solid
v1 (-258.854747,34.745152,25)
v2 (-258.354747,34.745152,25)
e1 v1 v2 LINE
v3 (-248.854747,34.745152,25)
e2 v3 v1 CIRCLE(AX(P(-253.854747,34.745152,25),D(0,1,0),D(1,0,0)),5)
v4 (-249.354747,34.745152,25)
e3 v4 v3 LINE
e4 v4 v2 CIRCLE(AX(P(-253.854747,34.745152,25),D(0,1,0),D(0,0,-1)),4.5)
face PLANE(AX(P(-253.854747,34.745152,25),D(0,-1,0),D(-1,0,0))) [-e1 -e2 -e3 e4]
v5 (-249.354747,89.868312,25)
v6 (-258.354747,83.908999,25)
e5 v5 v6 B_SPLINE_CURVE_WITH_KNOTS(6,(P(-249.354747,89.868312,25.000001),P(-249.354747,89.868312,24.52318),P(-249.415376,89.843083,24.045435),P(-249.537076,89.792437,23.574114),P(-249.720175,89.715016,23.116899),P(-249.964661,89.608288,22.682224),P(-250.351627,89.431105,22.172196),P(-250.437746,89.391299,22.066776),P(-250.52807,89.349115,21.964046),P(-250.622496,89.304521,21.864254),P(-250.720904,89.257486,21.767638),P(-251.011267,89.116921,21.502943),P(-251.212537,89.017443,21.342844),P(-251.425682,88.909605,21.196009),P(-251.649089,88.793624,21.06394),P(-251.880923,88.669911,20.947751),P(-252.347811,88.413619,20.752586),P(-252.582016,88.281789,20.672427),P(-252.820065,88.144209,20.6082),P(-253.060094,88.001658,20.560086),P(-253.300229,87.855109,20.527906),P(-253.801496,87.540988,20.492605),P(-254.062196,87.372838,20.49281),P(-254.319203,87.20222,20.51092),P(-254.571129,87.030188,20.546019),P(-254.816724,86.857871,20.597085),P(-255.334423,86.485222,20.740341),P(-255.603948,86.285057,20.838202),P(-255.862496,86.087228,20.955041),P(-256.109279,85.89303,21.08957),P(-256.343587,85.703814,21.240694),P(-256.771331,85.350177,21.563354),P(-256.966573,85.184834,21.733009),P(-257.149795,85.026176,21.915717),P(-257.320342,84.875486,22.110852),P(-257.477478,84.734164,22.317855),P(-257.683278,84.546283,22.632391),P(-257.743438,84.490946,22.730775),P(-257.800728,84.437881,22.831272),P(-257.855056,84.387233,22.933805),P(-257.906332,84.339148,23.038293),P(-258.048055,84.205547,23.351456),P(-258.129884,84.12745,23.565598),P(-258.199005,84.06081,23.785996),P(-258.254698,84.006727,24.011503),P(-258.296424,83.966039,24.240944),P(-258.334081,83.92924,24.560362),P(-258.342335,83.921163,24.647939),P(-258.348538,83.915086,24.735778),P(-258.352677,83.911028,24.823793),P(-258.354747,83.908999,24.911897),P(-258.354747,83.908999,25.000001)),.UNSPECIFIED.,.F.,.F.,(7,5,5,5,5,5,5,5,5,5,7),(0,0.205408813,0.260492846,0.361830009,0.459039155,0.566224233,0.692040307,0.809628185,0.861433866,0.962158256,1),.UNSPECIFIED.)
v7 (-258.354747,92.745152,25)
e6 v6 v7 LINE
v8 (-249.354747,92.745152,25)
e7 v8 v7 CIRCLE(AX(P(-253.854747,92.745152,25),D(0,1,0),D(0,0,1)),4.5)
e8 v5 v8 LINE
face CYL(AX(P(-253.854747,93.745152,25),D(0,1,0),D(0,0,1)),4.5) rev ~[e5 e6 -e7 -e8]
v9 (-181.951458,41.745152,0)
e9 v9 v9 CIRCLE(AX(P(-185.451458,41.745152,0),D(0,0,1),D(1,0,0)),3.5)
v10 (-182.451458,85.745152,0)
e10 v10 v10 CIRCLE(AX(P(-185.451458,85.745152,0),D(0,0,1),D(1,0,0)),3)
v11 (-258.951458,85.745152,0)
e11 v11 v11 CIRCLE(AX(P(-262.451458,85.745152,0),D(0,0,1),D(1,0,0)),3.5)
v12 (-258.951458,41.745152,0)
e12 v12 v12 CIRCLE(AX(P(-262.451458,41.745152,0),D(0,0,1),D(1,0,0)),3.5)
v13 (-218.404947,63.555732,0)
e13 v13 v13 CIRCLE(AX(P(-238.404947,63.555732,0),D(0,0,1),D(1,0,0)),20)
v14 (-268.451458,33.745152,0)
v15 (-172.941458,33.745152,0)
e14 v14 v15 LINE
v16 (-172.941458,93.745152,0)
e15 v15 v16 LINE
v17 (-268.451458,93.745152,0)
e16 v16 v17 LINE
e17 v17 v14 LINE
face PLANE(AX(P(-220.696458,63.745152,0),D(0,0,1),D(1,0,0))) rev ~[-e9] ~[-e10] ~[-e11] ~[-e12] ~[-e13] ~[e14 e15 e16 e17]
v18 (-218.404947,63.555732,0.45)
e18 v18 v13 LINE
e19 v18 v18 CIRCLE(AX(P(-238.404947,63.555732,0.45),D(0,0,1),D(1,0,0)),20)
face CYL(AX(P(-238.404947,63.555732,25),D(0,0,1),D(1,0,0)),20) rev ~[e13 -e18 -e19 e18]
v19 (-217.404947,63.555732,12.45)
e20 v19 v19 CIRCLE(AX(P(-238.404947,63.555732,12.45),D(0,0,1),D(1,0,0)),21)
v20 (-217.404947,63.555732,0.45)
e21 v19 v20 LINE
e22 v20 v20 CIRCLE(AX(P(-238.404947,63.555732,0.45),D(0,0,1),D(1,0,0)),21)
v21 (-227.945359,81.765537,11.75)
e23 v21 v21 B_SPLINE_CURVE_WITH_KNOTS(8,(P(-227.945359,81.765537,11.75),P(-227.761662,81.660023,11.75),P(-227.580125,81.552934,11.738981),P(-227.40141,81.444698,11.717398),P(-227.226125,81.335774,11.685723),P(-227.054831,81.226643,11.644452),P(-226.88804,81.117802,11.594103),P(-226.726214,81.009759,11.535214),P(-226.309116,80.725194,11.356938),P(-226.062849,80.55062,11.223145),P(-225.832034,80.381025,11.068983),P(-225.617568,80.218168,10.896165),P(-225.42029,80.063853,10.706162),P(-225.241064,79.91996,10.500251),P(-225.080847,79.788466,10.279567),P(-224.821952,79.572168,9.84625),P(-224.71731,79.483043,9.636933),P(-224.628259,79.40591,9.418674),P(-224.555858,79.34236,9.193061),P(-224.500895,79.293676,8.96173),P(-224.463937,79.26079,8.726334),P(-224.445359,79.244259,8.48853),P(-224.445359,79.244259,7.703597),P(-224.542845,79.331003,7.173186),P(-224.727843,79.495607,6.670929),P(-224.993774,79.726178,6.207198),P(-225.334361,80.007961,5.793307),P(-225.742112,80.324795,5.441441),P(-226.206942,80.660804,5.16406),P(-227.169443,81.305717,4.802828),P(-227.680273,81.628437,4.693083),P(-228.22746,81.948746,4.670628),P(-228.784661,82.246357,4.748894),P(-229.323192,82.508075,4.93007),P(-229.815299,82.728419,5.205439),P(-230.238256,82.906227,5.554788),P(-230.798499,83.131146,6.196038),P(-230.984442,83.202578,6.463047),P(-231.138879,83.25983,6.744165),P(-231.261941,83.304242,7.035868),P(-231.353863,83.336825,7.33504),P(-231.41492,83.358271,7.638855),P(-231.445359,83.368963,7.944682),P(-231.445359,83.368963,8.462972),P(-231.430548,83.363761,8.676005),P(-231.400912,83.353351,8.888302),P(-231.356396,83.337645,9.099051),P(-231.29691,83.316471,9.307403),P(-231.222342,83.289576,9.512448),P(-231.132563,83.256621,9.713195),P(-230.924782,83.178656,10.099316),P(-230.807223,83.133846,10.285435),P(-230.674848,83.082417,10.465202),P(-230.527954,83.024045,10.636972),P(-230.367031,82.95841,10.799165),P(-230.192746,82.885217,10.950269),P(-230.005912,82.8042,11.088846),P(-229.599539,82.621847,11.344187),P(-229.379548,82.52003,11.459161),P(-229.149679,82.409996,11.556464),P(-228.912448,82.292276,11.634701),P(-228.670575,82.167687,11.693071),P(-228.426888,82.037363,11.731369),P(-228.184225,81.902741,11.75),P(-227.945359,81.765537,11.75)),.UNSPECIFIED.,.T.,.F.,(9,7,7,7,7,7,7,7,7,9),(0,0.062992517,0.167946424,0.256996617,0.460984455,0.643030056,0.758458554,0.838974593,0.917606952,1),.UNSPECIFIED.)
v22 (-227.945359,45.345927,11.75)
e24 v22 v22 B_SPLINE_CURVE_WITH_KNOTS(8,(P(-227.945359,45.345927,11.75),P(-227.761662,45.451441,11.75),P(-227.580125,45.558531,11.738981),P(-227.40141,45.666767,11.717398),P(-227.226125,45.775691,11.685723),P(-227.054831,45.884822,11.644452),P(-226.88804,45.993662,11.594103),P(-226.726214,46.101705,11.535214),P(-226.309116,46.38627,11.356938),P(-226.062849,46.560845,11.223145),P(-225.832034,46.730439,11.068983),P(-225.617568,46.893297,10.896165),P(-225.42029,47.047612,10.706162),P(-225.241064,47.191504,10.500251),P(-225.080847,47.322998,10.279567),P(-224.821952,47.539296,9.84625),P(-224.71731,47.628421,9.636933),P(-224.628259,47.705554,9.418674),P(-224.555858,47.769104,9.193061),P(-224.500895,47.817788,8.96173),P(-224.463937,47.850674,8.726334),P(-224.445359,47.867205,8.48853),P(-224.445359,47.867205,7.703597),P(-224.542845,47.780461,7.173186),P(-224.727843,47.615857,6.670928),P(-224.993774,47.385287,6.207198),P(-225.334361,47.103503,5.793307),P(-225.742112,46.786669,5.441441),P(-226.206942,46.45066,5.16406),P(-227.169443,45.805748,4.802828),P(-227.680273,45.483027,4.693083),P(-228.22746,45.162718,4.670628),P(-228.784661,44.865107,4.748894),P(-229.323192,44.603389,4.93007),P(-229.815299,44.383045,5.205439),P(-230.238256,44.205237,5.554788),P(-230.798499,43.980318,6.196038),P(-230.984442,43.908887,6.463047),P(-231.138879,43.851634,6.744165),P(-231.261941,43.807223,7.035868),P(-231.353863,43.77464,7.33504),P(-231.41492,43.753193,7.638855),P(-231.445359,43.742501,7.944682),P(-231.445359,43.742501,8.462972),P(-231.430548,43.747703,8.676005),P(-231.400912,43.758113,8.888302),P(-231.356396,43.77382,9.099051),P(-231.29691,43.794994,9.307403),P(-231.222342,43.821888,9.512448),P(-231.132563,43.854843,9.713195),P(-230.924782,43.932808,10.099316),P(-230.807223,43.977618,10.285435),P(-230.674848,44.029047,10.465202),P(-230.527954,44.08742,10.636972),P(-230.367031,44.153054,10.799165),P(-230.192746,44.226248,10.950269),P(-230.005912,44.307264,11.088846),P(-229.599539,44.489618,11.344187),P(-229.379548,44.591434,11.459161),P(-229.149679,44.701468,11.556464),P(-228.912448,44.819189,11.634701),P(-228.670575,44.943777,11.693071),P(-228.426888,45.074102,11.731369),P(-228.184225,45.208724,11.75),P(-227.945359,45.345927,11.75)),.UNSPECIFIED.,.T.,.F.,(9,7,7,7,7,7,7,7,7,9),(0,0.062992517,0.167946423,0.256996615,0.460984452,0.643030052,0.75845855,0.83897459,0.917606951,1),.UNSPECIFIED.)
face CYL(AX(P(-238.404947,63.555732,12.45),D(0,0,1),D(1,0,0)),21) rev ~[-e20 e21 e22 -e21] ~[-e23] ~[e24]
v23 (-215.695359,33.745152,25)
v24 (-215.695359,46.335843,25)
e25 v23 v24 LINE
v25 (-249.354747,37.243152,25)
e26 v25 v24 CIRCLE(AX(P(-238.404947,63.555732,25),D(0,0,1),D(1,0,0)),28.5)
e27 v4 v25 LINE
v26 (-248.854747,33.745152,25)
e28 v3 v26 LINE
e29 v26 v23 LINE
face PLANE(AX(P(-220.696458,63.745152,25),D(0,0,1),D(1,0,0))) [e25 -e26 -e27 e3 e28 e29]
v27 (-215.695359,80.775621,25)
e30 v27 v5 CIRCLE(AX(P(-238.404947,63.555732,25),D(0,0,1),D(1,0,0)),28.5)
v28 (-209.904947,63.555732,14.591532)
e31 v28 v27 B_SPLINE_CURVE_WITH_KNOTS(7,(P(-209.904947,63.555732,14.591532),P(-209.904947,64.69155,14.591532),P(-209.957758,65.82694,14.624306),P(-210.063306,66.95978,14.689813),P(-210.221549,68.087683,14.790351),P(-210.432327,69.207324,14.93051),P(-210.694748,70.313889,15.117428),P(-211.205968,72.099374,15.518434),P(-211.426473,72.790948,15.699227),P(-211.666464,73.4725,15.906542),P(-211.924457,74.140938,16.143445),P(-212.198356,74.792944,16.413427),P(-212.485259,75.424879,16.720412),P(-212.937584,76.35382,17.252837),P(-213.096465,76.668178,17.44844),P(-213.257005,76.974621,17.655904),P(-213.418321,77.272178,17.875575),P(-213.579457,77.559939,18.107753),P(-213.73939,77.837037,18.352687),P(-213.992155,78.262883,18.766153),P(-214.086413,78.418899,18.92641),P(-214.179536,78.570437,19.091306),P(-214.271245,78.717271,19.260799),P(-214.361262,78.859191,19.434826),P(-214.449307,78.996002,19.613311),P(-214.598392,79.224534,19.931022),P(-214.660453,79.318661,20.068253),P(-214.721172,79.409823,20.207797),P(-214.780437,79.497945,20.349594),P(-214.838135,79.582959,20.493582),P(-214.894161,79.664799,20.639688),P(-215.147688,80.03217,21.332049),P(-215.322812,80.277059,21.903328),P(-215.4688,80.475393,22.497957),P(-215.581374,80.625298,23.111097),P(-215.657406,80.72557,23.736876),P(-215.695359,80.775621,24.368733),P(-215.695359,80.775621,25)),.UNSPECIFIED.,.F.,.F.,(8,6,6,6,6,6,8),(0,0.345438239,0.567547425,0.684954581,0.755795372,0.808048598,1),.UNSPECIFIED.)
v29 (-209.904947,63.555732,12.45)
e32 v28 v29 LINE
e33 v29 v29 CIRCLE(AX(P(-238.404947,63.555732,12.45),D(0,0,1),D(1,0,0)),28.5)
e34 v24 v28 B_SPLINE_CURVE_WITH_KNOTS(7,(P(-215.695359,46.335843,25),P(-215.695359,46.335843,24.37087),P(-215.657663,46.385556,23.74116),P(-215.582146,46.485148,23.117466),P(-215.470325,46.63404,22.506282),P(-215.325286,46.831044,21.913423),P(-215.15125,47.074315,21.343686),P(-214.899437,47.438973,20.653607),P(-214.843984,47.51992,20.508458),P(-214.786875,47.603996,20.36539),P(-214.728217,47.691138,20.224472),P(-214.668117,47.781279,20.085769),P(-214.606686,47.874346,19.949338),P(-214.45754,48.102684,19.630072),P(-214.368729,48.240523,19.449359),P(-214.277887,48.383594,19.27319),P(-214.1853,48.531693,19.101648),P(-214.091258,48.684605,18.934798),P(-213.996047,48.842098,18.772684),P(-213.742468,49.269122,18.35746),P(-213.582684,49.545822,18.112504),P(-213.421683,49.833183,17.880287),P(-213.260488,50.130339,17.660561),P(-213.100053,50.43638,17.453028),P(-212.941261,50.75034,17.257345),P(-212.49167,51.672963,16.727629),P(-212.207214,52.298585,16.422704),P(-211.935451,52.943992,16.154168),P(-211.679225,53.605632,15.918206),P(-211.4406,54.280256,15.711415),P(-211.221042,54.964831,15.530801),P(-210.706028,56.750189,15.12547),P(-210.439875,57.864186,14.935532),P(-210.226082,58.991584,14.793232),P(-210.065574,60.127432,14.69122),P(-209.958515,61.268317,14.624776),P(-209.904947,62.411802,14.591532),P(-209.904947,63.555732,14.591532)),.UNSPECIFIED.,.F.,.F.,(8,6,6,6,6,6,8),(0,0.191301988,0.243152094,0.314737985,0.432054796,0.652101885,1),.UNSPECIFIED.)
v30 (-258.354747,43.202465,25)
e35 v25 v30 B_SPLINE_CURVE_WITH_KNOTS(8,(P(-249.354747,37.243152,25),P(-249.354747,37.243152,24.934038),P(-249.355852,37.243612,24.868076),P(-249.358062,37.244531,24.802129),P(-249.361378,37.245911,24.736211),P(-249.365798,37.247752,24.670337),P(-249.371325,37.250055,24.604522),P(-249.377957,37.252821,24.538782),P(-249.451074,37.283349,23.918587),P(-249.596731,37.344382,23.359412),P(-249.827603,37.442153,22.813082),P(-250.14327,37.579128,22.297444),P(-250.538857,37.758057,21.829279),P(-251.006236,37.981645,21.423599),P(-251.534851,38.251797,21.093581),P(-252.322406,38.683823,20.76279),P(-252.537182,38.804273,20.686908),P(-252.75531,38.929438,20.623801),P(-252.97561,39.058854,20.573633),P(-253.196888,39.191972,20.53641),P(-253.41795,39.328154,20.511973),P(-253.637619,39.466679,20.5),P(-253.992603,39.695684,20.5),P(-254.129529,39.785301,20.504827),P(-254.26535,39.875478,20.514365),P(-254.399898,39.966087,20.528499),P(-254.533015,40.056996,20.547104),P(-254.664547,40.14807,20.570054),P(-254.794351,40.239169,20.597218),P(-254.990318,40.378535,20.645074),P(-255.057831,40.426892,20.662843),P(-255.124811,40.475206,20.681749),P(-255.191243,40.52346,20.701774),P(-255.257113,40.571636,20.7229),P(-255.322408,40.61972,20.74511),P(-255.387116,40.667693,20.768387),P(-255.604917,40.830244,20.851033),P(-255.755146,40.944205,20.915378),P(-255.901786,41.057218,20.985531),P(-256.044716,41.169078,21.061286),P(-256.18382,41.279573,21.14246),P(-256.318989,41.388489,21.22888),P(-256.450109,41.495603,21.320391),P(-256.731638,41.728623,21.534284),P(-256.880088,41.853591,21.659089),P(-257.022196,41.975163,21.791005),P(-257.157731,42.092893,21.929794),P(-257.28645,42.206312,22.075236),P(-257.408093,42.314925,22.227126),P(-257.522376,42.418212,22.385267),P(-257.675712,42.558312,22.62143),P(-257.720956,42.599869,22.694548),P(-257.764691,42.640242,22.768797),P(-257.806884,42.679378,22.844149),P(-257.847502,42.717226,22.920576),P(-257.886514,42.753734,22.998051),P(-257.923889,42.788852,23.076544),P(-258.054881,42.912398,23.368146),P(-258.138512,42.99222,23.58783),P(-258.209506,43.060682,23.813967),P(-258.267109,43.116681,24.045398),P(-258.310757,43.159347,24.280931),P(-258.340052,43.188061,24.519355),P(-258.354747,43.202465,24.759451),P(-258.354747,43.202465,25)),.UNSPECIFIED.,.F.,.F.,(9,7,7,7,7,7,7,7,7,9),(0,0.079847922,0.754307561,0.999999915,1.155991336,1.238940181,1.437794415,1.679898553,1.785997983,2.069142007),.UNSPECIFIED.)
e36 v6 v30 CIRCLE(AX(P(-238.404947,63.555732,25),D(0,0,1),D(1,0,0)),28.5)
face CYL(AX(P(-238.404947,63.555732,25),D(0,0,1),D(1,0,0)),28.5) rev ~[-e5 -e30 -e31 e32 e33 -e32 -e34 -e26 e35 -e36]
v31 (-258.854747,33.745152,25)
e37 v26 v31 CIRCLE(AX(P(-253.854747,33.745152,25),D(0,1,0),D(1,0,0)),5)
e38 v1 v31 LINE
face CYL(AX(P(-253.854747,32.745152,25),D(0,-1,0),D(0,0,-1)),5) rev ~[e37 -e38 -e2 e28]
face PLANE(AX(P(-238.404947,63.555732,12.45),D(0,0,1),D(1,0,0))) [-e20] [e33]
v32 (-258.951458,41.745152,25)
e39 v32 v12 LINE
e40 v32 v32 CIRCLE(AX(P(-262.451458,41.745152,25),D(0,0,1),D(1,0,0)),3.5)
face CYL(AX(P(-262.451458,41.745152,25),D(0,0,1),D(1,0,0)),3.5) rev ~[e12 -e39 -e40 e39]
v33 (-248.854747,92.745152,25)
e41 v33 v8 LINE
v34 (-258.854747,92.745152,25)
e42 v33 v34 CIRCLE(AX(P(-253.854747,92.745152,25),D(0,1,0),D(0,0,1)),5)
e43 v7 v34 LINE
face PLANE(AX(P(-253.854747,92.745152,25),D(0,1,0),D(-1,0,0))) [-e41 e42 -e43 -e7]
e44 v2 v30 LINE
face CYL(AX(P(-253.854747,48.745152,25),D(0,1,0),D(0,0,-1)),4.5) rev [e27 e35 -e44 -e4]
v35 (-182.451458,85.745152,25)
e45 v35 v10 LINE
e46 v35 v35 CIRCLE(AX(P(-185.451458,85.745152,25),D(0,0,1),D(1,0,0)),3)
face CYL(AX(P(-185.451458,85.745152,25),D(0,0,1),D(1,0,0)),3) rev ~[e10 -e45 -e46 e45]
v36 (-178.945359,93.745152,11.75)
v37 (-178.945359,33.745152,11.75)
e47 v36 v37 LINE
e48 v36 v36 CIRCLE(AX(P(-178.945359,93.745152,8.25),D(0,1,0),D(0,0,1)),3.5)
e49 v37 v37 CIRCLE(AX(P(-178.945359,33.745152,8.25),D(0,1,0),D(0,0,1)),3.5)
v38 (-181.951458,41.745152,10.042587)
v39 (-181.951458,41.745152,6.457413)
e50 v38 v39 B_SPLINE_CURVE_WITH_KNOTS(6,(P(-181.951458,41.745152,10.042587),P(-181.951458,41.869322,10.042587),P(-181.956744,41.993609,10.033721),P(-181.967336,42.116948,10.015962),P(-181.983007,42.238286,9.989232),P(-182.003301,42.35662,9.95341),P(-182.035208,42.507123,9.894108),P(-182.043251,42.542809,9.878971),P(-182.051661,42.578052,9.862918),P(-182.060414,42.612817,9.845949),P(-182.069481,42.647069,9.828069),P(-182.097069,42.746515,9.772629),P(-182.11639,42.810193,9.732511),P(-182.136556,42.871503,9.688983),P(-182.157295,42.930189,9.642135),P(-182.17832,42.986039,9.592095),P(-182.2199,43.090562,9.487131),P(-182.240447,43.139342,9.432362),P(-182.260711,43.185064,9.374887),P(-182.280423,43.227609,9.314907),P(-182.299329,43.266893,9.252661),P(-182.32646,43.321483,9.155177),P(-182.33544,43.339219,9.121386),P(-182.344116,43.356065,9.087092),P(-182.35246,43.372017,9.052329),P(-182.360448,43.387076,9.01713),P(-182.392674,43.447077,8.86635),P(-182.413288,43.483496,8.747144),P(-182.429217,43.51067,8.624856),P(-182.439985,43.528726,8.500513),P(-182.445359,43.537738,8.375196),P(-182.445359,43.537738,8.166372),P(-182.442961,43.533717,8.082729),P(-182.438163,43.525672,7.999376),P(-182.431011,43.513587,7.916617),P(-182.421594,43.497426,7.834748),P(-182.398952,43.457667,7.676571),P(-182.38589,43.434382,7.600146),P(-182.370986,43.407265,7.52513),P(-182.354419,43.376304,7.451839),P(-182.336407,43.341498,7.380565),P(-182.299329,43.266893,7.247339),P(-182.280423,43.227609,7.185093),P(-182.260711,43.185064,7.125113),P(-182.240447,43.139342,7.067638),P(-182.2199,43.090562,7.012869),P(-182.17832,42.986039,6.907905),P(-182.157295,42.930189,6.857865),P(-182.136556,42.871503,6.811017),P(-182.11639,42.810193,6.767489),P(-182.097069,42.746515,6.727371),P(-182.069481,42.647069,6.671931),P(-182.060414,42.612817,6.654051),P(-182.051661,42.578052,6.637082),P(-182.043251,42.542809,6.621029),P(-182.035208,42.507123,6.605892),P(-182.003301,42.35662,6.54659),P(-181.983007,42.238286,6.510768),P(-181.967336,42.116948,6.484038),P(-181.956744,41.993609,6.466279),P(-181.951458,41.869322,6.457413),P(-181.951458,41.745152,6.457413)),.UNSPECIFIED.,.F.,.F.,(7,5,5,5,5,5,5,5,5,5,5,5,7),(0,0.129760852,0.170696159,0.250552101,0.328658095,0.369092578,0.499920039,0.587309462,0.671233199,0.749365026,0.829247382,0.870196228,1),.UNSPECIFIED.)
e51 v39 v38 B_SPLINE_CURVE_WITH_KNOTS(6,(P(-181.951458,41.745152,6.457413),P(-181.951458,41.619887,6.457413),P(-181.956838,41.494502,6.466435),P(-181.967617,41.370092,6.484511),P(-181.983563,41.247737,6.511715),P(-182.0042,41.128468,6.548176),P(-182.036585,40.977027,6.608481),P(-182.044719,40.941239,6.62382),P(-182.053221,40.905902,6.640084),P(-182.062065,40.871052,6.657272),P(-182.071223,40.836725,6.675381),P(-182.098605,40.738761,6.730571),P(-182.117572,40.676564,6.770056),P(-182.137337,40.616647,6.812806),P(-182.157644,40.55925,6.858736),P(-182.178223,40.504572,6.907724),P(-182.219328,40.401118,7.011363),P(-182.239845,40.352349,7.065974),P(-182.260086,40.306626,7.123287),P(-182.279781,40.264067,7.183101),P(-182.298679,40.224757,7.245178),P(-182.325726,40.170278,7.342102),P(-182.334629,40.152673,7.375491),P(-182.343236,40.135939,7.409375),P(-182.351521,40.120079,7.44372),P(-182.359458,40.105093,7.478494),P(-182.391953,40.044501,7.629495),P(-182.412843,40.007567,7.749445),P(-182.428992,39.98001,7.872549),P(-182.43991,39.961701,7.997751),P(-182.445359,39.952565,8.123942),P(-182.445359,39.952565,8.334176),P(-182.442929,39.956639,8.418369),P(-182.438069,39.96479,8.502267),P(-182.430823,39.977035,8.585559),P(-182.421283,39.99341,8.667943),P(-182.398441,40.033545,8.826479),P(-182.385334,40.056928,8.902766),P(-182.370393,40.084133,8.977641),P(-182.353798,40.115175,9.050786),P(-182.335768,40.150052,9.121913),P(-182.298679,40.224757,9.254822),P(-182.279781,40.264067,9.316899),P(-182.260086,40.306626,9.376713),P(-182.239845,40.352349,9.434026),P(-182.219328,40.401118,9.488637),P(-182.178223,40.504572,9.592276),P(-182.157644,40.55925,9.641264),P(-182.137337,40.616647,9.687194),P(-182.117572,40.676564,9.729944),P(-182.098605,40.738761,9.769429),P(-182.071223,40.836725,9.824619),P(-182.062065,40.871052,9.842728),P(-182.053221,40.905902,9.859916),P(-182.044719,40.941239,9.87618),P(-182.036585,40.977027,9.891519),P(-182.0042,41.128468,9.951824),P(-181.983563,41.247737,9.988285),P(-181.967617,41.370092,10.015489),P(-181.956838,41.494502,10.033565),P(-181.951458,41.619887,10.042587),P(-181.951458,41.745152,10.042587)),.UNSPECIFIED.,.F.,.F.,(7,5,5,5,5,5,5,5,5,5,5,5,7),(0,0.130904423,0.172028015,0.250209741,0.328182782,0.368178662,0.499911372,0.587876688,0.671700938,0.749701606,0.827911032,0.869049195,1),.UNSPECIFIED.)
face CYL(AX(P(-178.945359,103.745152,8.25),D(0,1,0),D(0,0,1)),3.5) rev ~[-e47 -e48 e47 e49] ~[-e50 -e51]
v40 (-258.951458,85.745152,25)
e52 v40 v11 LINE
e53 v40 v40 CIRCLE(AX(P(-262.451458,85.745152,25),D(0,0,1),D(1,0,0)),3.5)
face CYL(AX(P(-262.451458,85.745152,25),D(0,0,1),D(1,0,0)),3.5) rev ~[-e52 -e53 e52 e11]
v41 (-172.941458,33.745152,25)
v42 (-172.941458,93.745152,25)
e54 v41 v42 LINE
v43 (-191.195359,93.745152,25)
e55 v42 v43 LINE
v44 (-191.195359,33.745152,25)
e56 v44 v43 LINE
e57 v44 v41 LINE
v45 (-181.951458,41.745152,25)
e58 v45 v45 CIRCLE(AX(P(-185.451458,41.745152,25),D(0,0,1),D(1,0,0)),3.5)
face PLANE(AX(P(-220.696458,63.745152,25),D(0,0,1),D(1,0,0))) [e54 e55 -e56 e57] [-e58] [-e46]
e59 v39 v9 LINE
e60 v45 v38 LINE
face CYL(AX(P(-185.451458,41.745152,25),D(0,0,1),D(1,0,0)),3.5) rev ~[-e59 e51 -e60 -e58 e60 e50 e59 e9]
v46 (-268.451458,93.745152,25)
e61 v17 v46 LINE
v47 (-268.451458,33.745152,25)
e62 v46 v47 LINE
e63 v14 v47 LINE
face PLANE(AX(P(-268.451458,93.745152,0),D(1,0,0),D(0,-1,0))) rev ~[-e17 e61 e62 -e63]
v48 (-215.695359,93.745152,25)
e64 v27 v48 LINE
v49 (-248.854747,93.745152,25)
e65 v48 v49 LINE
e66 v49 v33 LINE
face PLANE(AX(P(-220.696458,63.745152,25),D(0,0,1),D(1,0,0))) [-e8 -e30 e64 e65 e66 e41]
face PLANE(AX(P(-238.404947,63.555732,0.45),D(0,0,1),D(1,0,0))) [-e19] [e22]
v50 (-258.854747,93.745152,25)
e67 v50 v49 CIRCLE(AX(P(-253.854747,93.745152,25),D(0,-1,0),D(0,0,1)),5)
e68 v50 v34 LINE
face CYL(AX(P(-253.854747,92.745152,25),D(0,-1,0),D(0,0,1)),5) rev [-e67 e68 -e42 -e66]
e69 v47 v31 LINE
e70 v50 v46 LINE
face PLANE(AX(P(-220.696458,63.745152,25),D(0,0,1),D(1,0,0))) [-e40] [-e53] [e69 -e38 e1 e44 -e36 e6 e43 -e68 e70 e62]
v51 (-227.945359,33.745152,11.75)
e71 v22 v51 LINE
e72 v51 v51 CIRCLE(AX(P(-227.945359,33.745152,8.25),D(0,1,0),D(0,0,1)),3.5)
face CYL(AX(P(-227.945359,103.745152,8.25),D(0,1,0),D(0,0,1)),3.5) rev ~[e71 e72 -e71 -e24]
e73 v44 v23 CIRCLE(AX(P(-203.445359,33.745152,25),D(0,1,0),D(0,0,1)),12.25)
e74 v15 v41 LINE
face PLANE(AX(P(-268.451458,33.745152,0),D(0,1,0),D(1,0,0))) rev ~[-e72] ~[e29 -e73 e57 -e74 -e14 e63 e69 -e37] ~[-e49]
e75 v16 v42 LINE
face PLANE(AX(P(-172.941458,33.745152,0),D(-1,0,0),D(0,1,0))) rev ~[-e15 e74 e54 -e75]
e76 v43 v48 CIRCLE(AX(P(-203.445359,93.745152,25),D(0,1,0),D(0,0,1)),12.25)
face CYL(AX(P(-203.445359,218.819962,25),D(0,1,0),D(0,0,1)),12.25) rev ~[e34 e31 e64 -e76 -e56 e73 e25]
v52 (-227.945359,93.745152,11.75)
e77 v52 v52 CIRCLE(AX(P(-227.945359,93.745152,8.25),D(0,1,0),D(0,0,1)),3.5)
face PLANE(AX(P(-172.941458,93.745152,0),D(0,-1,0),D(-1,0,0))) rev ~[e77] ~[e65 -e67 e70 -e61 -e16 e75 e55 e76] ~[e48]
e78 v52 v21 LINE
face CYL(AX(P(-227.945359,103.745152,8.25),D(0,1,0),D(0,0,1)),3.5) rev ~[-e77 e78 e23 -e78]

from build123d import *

# Parameters (mm, degrees)
BOSS_EXTRUDE1_DEPTH = 25
SKETCH3_R           = 3.5
SKETCH3_R_2         = 3
CUT_EXTRUDE1_DEPTH  = 30
SKETCH5_R           = 12.25
CUT_EXTRUDE3_DEPTH  = 299.5
SKETCH8_R           = 20
CUT_EXTRUDE6_DEPTH  = 299.5
SKETCH7_R           = 28.5
CUT_EXTRUDE5_DEPTH  = 12.55
SKETCH9_R           = 21
CUT_EXTRUDE7_DEPTH  = 12
SKETCH18_R          = 3.500000003
CUT_EXTRUDE11_DEPTH = 70
SKETCH25_R          = 4.5
CUT_EXTRUDE18_DEPTH = 15
CUT_EXTRUDE19_START = -15
SKETCH26_R          = 4.5
CUT_EXTRUDE19_DEPTH = 15
CUT_EXTRUDE22_DEPTH = 2
CUT_EXTRUDE23_START = -2
CUT_EXTRUDE23_DEPTH = 2


with BuildPart() as part:
    # Sketch2 → Boss-Extrude1 (new body)
    with BuildSketch(Plane.XY):
        Polygon((-180.451457822, 33.745151522), (-172.941457822, 33.745151522), (-172.941457822, 93.745151522), (-268.451457822, 93.745151522), (-268.451457822, 33.745151522), align=None)
    extrude(amount=BOSS_EXTRUDE1_DEPTH)

    # Sketch3 → Cut-Extrude1 (cut)
    with BuildSketch(Plane(origin=(-254.526795804, 25.613966889, 25), x_dir=(1, 0, 0), z_dir=(0, 0, 1))):
        with Locations((-7.924662018, 60.131184633)):
            Circle(SKETCH3_R)
        with Locations((69.075337951, 60.131184633)):
            Circle(SKETCH3_R_2)
        with Locations((69.075337951, 16.131184633)):
            Circle(SKETCH3_R)
        with Locations((-7.924662018, 16.131184633)):
            Circle(SKETCH3_R)
    extrude(amount=-CUT_EXTRUDE1_DEPTH, mode=Mode.SUBTRACT)

    # Sketch5 → Cut-Extrude3 (cut)
    with BuildSketch(Plane(origin=(-254.526795796, 218.819962105, 46.890114798), x_dir=(0, 0, 1), z_dir=(0, 1, 0))):
        with Locations((-21.890114798, 51.081437247)):
            Circle(SKETCH5_R)
    extrude(amount=-CUT_EXTRUDE3_DEPTH, mode=Mode.SUBTRACT)

    # Sketch8 → Cut-Extrude6 (cut)
    with BuildSketch(Plane(origin=(-254.526795804, 25.613966889, 25), x_dir=(1, 0, 0), z_dir=(0, 0, 1))):
        with Locations((16.121848571, 37.941765268)):
            Circle(SKETCH8_R)
    extrude(amount=-CUT_EXTRUDE6_DEPTH, mode=Mode.SUBTRACT)

    # Sketch7 → Cut-Extrude5 (cut)
    with BuildSketch(Plane(origin=(-254.526795804, 25.613966889, 25), x_dir=(1, 0, 0), z_dir=(0, 0, 1))):
        with Locations((16.121848571, 37.941765268)):
            Circle(SKETCH7_R)
    extrude(amount=-CUT_EXTRUDE5_DEPTH, mode=Mode.SUBTRACT)

    # Sketch9 → Cut-Extrude7 (cut)
    with BuildSketch(Plane.XY.offset(12.45)):
        with Locations((-238.404947233, 63.555732157)):
            Circle(SKETCH9_R)
    extrude(amount=-CUT_EXTRUDE7_DEPTH, mode=Mode.SUBTRACT)

    # Sketch18 → Cut-Extrude11 (cut)
    with BuildSketch(Plane(origin=(-155.753430747, 103.745151522, -13.013772077), x_dir=(0, 0, 1), z_dir=(0, 1, 0))):
        with Locations((21.263772077, -72.191927802)):
            Circle(SKETCH18_R)
        with Locations((21.263772077, -23.191927802)):
            Circle(SKETCH18_R)
    extrude(amount=-CUT_EXTRUDE11_DEPTH, mode=Mode.SUBTRACT)

    # Sketch25 → Cut-Extrude18 (cut)
    with BuildSketch(Plane(origin=(-254.526795796, 93.745151522, 46.890114798), x_dir=(0, 0, 1), z_dir=(0, 1, 0))):
        with Locations((-21.890114798, 0.672048442)):
            Circle(SKETCH25_R)
    extrude(amount=-CUT_EXTRUDE18_DEPTH, mode=Mode.SUBTRACT)

    # Sketch26 → Cut-Extrude19 (cut)
    with BuildSketch(Plane(origin=(-254.526795796, 33.745151522, 3.109885202), x_dir=(0, 0, -1), z_dir=(0, -1, 0)).offset(CUT_EXTRUDE19_START)):
        with Locations((-21.890114798, 0.672048442)):
            Circle(SKETCH26_R)
    extrude(amount=CUT_EXTRUDE19_DEPTH, mode=Mode.SUBTRACT)

    # Sketch29 → Cut-Extrude22 (cut)
    with BuildSketch(Plane(origin=(-217.163449612, 32.745151522, 13.13747962), x_dir=(-1, 0, 0), z_dir=(0, -1, 0))):
        with BuildLine():
            ThreePointArc((36.691297742, -16.86252038), (41.691297742, -11.86252038), (36.691297742, -6.86252038))
            ThreePointArc((36.691297742, -6.86252038), (31.691297742, -11.86252038), (36.691297742, -16.86252038))
        make_face()
    extrude(amount=-CUT_EXTRUDE22_DEPTH, mode=Mode.SUBTRACT)

    # Sketch30 → Cut-Extrude23 (cut)
    with BuildSketch(Plane(origin=(-217.163449612, 94.745151522, 36.86252038), x_dir=(-1, 0, 0), z_dir=(0, 1, 0)).offset(CUT_EXTRUDE23_START)):
        with BuildLine():
            ThreePointArc((36.691297742, -16.86252038), (41.691297742, -11.86252038), (36.691297742, -6.86252038))
            ThreePointArc((36.691297742, -6.86252038), (31.691297742, -11.86252038), (36.691297742, -16.86252038))
        make_face()
    extrude(amount=CUT_EXTRUDE23_DEPTH, mode=Mode.SUBTRACT)


solid = part.part
